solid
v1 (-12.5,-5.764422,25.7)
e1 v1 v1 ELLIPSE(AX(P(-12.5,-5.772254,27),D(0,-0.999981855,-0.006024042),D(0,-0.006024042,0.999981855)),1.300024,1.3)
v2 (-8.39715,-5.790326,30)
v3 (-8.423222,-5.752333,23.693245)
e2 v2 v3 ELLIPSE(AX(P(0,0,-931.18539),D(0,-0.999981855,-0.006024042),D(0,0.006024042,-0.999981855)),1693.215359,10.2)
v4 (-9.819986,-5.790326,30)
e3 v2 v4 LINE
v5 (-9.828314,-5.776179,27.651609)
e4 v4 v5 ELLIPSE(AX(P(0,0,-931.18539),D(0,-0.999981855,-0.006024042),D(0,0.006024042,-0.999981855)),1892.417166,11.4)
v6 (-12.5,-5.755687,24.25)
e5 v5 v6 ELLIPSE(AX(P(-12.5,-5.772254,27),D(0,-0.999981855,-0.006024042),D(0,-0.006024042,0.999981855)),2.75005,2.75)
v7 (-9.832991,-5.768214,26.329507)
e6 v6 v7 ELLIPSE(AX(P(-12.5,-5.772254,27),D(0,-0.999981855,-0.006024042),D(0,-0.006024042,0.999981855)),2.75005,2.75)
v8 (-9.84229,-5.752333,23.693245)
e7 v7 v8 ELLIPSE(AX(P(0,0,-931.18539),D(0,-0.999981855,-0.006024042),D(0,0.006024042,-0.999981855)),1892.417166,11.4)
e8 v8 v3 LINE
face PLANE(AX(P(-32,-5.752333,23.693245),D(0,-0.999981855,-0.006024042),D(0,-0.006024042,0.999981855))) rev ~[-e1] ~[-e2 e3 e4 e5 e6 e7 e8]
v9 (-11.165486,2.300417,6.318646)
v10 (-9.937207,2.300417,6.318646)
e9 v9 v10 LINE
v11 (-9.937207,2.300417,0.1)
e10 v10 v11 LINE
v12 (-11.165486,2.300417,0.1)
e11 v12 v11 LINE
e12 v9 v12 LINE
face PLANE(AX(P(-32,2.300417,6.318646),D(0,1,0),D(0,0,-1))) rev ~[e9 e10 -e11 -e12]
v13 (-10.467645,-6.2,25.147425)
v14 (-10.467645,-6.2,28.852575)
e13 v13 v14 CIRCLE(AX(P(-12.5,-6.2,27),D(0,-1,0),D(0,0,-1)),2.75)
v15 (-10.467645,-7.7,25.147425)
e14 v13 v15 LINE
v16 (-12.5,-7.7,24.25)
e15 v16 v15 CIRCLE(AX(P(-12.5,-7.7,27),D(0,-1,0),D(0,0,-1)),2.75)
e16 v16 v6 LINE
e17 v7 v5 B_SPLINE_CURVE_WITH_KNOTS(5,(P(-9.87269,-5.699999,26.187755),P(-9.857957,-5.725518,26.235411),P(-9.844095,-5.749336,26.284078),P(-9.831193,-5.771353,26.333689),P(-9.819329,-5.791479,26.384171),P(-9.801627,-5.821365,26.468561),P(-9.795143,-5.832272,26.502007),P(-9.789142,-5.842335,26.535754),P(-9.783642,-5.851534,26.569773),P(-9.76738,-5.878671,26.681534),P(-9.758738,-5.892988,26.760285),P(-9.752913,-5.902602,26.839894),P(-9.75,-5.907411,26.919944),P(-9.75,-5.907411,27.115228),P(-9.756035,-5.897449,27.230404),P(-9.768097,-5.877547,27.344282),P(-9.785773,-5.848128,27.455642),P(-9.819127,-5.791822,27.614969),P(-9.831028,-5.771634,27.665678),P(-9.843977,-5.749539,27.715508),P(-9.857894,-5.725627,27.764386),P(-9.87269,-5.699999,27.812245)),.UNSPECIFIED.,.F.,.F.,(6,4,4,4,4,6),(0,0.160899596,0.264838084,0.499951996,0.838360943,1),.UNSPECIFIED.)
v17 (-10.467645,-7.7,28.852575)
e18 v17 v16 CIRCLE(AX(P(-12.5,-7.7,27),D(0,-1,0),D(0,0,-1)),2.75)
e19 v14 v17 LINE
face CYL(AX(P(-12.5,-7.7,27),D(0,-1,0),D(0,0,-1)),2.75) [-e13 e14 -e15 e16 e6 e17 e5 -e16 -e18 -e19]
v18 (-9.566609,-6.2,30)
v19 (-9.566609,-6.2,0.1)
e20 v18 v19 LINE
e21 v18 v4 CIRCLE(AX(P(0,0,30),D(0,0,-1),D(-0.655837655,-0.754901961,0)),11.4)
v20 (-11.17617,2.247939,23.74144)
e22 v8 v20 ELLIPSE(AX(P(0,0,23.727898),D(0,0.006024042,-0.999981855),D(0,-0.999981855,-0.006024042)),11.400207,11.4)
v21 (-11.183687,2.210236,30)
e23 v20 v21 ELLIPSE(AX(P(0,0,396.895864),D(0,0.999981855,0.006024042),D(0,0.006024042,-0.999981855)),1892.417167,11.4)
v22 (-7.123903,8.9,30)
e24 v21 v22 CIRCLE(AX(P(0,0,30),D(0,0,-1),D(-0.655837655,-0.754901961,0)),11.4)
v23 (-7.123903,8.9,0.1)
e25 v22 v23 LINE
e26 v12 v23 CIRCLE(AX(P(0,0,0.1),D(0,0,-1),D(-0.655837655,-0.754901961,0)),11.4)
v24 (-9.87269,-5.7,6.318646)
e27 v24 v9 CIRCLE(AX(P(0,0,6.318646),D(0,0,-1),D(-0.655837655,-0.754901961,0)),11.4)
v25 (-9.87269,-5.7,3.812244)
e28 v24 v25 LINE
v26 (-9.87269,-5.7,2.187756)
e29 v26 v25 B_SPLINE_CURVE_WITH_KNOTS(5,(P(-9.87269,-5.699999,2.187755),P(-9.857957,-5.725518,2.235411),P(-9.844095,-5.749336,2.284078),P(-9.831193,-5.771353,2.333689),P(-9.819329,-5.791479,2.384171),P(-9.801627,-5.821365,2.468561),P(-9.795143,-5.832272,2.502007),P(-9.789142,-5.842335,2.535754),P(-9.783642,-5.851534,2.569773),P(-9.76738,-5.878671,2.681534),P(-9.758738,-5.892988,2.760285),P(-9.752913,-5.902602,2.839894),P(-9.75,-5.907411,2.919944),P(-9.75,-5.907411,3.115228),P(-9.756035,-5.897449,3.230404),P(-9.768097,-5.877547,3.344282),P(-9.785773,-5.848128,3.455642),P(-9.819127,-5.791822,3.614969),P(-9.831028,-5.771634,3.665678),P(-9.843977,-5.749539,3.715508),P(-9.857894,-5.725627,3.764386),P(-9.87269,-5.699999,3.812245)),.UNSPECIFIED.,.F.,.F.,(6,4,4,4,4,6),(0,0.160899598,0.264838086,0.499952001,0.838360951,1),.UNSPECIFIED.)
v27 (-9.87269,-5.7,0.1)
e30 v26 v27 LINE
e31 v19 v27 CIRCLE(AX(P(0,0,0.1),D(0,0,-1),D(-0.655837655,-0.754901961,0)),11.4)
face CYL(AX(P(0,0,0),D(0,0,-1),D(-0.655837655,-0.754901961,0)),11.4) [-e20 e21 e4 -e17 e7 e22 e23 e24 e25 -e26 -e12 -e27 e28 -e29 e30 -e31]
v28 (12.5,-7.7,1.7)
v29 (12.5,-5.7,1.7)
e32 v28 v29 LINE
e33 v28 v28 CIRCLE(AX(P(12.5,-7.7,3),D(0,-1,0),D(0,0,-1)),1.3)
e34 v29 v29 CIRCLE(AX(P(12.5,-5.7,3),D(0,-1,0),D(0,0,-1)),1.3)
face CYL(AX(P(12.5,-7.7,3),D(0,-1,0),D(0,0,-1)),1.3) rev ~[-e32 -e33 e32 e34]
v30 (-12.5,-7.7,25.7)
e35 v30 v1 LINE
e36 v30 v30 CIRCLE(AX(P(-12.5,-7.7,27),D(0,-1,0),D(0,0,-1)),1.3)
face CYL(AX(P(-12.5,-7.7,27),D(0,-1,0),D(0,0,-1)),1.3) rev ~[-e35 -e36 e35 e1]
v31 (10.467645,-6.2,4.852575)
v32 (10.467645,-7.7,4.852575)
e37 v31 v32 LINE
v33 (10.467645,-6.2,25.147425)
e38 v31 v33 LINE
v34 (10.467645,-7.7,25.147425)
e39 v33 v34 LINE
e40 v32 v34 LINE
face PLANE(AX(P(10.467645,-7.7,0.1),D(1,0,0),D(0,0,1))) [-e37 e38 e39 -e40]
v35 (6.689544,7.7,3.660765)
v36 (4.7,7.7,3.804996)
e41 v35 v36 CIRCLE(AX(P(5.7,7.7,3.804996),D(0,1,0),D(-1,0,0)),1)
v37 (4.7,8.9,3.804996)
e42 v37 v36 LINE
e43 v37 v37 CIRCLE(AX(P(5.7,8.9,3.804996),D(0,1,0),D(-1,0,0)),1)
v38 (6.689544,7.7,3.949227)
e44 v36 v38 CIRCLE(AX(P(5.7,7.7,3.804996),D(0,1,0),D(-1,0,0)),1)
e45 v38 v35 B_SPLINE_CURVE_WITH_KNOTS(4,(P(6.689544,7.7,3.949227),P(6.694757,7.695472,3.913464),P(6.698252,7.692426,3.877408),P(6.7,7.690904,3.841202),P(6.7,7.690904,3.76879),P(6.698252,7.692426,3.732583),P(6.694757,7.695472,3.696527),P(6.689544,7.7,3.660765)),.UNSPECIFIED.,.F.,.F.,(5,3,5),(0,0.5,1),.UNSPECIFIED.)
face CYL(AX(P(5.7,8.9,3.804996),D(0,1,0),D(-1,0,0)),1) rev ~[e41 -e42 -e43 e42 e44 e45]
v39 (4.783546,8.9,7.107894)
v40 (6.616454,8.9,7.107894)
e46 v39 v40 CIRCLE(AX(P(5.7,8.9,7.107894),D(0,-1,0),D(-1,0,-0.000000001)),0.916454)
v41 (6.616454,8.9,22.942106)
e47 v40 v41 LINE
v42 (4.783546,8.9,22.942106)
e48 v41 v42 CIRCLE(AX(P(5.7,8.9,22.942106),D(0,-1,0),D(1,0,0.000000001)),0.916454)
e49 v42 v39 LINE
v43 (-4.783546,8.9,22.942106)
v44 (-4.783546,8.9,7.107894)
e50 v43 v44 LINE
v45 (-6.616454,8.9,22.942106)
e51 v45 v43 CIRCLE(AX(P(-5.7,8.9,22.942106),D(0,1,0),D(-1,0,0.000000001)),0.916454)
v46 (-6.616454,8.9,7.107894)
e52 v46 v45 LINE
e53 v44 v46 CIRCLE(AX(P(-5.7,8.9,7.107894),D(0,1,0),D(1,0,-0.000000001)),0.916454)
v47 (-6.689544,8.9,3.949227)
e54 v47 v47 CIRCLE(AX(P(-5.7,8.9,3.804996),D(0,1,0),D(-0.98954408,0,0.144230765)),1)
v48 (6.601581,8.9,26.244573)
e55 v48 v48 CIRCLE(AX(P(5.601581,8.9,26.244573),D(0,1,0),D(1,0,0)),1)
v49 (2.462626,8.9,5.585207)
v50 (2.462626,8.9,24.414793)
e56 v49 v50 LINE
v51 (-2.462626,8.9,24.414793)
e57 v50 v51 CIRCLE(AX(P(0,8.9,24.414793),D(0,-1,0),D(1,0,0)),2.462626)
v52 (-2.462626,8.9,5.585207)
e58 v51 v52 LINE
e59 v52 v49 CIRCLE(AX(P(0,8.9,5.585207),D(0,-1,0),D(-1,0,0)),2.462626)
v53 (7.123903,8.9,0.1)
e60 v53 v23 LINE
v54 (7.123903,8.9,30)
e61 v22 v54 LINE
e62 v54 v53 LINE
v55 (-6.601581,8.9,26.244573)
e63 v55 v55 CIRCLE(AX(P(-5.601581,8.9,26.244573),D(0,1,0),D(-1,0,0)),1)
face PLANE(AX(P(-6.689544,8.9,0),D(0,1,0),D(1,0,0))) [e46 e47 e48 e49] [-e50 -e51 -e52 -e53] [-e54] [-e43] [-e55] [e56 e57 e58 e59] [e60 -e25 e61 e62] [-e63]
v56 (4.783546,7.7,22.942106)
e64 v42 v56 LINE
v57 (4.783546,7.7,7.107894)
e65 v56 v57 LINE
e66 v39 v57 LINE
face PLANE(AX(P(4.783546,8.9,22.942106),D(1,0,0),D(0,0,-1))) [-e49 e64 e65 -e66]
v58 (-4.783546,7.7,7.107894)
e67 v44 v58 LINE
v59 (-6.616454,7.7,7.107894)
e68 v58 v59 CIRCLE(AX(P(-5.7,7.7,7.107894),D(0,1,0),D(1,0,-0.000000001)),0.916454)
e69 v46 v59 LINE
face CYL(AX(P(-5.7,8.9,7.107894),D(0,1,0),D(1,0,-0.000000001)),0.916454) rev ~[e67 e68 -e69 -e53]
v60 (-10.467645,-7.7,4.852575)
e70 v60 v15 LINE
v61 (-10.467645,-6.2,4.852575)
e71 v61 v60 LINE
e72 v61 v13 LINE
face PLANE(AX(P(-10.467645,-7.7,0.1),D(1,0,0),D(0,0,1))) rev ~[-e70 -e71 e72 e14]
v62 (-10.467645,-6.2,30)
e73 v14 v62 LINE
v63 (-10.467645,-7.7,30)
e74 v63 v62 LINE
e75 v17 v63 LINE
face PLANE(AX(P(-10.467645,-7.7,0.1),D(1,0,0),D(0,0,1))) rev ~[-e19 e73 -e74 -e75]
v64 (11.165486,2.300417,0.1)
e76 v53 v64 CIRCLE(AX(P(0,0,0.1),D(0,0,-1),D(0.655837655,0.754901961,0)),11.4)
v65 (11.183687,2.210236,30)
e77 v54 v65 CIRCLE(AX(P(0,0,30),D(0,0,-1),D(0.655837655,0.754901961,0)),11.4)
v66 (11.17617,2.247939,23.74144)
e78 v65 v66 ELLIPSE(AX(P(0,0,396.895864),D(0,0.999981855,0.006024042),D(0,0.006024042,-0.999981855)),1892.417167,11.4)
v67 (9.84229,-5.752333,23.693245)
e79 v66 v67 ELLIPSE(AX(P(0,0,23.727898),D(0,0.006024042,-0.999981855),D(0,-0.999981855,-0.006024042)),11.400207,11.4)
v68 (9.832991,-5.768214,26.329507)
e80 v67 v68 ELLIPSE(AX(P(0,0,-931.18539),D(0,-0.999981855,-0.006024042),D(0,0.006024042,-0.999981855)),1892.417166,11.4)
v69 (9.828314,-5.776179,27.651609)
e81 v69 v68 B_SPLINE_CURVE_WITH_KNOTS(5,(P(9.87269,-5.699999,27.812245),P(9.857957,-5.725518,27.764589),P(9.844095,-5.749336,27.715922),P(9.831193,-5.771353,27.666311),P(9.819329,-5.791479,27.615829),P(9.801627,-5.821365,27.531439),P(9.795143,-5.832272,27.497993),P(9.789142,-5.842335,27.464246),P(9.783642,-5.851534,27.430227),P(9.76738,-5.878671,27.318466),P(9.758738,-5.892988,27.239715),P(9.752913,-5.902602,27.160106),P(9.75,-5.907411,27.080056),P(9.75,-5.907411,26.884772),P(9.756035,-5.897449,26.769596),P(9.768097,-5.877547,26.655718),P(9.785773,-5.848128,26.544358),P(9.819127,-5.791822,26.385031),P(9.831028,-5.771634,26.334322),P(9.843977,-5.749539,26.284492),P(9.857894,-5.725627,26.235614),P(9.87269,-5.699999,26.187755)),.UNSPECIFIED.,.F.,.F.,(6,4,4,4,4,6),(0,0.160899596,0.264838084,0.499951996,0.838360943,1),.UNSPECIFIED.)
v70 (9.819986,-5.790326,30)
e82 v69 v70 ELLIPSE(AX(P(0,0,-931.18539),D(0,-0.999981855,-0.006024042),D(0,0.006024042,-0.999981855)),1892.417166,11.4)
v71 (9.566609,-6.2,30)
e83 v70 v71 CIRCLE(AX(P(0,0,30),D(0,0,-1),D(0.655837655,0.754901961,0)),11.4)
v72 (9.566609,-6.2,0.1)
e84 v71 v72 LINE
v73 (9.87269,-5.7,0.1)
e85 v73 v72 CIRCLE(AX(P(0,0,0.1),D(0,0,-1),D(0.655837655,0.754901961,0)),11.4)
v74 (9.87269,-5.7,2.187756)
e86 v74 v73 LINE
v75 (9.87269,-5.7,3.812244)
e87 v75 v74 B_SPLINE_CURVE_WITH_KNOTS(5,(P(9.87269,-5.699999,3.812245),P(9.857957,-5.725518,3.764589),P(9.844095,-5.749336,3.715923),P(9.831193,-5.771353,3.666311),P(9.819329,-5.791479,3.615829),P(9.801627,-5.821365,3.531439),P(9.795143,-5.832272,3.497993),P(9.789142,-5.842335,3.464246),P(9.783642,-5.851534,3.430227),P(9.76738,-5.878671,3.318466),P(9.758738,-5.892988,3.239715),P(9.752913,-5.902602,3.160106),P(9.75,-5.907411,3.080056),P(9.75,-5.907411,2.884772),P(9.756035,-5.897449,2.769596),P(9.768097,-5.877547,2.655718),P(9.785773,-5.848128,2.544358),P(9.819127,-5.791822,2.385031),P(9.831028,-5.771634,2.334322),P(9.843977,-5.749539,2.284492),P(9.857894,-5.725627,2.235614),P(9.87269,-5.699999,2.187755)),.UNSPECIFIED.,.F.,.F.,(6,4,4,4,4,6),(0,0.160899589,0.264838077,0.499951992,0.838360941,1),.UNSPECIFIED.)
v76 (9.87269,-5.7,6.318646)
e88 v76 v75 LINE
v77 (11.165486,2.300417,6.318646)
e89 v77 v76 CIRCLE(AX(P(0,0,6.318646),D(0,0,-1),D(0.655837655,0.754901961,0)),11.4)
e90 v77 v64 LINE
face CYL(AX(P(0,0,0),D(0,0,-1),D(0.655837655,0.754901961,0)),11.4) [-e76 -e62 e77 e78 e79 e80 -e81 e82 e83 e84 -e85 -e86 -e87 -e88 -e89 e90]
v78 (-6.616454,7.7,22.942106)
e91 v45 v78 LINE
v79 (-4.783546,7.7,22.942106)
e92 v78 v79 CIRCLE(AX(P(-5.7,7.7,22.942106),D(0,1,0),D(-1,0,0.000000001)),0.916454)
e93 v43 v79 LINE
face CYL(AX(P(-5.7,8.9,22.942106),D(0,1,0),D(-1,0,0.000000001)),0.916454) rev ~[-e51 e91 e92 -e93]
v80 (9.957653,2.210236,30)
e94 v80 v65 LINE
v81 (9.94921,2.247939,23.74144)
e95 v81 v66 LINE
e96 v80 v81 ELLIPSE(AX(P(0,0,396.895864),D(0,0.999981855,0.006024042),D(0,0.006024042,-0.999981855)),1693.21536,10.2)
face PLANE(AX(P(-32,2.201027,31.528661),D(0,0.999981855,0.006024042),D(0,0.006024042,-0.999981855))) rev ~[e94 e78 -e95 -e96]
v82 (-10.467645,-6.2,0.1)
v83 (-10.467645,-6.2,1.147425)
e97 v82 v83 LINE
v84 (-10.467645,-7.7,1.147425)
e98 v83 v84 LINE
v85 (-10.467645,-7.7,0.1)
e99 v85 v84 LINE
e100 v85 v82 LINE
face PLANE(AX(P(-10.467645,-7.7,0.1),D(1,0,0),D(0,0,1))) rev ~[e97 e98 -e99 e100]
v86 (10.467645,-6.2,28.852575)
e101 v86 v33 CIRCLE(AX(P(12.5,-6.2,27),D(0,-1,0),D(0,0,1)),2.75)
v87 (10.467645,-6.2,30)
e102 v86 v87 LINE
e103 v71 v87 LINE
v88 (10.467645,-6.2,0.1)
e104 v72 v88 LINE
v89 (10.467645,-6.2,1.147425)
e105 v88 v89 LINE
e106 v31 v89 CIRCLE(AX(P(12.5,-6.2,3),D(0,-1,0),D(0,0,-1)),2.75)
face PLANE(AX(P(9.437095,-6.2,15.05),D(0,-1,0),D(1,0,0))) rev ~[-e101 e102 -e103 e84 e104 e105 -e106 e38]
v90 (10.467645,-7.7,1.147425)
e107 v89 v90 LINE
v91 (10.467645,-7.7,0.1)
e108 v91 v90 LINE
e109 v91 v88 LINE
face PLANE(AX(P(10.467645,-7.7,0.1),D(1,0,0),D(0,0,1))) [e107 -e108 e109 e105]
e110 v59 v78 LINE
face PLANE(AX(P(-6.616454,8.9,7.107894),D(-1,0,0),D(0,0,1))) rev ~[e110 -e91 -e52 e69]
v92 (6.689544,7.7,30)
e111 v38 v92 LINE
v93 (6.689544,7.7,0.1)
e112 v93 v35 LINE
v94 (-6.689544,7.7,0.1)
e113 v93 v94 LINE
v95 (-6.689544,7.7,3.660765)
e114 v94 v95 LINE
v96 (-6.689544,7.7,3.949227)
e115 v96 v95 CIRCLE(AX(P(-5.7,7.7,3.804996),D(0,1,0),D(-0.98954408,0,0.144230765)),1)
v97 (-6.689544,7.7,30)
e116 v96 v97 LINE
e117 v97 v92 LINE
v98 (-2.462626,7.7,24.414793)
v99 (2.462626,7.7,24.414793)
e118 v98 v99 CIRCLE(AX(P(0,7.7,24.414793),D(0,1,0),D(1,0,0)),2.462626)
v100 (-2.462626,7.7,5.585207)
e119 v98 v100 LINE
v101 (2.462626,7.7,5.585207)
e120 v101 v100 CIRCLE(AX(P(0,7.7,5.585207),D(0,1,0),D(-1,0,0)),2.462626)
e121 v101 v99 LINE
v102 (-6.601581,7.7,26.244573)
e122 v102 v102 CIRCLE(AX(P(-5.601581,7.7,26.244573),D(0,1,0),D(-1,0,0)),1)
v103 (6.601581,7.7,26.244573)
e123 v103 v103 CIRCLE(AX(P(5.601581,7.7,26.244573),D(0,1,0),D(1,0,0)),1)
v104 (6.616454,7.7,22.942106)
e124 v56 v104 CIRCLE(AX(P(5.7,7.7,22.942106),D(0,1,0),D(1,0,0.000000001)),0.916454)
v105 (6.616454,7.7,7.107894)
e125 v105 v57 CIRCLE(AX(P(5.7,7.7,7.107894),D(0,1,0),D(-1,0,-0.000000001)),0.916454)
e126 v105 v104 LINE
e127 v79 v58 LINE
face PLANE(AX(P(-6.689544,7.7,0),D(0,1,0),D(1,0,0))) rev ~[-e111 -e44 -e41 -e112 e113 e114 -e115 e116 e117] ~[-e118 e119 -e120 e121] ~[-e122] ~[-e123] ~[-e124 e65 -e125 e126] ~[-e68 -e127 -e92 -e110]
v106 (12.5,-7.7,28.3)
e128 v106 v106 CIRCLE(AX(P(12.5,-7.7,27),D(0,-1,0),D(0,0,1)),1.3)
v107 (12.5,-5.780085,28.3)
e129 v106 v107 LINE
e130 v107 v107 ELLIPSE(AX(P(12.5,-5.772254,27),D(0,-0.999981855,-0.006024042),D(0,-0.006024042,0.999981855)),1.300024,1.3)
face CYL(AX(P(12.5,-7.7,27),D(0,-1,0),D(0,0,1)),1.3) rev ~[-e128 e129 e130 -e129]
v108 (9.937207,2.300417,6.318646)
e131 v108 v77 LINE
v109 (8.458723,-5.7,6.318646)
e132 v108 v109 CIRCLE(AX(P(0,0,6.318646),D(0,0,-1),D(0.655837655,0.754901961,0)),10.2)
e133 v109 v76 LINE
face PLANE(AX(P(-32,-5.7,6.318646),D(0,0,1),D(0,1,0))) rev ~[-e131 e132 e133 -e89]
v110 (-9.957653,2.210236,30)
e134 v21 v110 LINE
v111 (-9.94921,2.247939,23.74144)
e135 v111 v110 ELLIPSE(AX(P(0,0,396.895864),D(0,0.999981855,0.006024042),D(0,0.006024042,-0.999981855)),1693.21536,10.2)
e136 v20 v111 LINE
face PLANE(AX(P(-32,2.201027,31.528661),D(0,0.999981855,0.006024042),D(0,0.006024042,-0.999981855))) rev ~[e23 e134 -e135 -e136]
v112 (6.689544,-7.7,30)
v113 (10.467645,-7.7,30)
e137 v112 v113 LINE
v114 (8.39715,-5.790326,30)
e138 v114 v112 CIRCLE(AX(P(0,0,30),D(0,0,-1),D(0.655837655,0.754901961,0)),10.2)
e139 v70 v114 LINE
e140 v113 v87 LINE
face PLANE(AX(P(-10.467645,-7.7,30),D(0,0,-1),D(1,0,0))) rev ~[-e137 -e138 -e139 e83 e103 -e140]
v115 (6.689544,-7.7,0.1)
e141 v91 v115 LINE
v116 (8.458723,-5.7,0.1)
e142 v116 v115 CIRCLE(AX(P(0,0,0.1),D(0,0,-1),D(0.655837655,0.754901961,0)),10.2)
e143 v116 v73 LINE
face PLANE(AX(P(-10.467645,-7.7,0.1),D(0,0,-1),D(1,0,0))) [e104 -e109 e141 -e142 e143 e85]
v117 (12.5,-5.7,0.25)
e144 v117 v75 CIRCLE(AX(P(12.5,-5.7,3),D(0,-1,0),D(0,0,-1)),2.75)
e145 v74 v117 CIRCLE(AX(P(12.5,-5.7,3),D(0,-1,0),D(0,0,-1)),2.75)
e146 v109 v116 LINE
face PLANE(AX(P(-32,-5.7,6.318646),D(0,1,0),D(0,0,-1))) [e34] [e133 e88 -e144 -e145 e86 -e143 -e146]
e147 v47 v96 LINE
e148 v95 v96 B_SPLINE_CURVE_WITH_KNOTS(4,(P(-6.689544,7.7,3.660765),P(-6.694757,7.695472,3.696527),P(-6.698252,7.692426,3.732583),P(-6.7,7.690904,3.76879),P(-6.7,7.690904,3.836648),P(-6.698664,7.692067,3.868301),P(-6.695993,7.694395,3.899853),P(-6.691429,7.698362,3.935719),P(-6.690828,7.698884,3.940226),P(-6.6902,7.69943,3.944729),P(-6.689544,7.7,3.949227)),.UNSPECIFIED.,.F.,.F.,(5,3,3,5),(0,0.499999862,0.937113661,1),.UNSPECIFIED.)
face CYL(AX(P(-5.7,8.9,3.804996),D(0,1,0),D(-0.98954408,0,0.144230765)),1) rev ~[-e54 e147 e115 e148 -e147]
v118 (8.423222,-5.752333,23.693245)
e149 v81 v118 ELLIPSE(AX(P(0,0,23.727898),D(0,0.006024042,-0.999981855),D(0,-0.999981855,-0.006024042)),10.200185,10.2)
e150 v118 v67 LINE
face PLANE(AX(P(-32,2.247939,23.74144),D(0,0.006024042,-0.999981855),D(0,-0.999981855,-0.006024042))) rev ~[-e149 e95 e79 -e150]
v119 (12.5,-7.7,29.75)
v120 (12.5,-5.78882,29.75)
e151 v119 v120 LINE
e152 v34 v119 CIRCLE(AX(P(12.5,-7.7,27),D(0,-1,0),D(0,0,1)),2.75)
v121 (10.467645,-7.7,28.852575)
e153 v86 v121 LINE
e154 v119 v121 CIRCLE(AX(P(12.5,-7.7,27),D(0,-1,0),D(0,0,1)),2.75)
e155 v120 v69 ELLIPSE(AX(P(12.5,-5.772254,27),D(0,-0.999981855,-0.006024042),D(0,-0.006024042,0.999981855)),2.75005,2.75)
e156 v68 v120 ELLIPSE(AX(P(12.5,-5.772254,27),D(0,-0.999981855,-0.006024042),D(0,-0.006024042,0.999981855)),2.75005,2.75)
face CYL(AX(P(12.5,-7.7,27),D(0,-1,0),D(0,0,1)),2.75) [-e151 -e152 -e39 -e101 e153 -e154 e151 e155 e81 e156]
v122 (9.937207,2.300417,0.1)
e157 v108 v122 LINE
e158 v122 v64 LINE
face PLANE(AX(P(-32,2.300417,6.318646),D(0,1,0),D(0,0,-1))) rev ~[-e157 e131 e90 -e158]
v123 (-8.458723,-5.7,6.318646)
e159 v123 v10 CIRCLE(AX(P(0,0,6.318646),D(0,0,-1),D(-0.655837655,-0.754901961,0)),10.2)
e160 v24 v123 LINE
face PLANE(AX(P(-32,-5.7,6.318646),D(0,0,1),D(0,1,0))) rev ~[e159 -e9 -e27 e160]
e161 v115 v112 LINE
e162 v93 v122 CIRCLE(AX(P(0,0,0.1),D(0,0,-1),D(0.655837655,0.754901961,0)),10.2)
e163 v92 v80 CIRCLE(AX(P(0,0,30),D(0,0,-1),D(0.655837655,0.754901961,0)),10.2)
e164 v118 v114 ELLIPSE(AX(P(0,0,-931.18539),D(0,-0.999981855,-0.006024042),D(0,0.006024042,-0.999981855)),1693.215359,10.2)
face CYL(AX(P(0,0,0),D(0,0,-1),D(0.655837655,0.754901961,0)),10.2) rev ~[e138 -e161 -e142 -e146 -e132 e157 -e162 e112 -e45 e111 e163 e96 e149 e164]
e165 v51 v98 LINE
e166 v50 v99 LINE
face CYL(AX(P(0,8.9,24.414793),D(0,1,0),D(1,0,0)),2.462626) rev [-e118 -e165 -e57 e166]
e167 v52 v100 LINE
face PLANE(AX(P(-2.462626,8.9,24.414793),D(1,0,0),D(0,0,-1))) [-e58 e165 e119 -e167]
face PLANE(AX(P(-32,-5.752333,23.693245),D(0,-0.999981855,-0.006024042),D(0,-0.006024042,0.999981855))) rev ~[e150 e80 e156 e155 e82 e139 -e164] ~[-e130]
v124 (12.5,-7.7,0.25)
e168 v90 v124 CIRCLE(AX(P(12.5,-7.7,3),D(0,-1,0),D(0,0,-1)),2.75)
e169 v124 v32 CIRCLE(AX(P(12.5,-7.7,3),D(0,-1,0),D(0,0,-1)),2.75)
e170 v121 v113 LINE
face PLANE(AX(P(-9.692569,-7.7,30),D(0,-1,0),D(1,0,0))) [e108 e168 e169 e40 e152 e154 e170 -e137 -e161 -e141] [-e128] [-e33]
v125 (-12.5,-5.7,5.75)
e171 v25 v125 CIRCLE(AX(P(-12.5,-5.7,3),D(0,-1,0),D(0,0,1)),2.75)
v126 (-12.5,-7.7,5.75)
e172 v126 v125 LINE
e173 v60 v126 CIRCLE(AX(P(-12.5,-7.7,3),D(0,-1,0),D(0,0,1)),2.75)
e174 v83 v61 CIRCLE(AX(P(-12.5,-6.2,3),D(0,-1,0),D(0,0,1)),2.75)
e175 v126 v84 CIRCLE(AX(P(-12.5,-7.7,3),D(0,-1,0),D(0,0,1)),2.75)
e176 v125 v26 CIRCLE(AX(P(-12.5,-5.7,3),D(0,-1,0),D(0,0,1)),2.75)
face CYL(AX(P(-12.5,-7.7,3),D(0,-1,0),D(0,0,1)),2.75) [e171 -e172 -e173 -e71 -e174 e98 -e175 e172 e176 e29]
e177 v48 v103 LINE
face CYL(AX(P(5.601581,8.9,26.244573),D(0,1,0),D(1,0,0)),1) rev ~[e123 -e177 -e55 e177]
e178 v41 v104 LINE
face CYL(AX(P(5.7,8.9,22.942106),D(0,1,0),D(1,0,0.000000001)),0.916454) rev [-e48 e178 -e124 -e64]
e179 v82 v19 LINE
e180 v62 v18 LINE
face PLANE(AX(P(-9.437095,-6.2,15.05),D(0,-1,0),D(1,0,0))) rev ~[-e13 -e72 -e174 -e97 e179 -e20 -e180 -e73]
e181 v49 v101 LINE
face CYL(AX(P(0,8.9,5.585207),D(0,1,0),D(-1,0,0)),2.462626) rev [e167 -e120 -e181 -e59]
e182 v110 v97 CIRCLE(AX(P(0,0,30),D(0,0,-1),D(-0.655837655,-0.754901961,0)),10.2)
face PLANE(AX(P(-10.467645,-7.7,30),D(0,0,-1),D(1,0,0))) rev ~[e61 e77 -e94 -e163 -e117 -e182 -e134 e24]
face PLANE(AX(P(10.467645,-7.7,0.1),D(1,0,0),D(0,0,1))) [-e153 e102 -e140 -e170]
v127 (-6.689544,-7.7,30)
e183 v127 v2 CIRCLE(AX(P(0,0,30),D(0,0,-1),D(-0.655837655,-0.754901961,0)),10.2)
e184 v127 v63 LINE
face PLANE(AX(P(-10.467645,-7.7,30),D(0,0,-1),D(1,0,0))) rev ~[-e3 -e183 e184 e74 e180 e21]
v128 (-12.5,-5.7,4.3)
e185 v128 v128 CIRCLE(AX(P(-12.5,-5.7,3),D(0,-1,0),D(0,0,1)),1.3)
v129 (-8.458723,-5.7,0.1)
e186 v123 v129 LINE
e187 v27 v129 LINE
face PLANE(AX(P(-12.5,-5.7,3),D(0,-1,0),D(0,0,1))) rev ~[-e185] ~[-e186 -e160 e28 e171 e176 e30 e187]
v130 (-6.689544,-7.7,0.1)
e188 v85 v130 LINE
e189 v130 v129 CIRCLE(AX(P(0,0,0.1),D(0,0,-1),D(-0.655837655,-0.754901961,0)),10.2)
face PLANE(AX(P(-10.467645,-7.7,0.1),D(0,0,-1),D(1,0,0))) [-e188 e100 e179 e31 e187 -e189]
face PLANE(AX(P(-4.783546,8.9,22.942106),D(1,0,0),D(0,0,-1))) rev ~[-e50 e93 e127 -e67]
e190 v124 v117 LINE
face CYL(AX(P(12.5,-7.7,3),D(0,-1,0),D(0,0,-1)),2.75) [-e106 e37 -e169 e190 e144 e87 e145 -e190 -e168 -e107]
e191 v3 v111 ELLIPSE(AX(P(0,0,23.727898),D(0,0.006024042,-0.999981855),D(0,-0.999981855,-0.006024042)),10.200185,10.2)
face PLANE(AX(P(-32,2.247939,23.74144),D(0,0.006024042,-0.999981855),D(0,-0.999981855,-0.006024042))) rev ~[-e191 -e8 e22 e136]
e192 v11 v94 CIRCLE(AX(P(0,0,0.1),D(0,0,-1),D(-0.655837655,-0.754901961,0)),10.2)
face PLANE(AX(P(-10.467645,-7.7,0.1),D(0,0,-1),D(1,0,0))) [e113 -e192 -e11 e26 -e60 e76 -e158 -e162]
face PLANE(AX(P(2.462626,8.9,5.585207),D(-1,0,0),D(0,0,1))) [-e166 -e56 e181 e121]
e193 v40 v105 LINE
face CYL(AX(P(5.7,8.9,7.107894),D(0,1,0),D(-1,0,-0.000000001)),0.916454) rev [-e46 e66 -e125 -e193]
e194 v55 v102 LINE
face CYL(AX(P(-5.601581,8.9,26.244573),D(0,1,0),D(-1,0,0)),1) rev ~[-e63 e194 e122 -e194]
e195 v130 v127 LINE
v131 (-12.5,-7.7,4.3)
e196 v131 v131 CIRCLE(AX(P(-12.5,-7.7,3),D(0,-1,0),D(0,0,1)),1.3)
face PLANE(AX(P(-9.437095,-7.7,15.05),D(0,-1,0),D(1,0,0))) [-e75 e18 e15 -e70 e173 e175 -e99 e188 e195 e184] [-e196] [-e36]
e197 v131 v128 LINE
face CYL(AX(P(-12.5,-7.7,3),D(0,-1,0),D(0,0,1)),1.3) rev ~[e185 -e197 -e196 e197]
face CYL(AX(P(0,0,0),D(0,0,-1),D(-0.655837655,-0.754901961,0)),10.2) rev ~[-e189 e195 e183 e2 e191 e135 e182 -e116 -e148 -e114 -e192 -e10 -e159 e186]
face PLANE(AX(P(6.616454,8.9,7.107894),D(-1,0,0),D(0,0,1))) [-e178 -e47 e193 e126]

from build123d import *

# Parameters (mm, degrees)
SALIENTE_EXTRUIR1_DEPTH    = 30
VACIADO1_T                 = 1.2
CROQUIS2_W                 = 41.64599518
CROQUIS2_H                 = 31.401201606
CORTAR_EXTRUIR1_DEPTH      = 1.3
CROQUIS3_W                 = 19.002401527
CROQUIS3_H                 = 2.972205444
CORTAR_EXTRUIR2_DEPTH      = 48.3
CROQUIS4_R                 = 2.75
CROQUIS4_R_2               = 1.3
SALIENTE_EXTRUIR2_DEPTH    = 2
SALIENTE_EXTRUIR2_2_DEPTH  = 2
SALIENTE_EXTRUIR2_3_DEPTH  = 2
SALIENTE_EXTRUIR2_4_DEPTH  = 2
CROQUIS5_W                 = 2.061100057
CROQUIS5_H                 = 29.9
SALIENTE_EXTRUIR3_DEPTH    = 1.5
CROQUIS6_R                 = 1
CORTAR_EXTRUIR3_DEPTH      = 7
CORTAR_EXTRUIR4_DEPTH      = 30
CORTAR_EXTRUIR4_DEPTH_BACK = 32
CROQUIS9_W                 = 7.787362377
CROQUIS9_H                 = 8.000416911


with BuildPart() as part:
    # Croquis1 → Saliente-Extruir1 (new body)
    with BuildSketch(Plane.XY):
        with BuildLine():
            Line((-6.68954408, 7.7), (6.68954408, 7.7))
            ThreePointArc((6.68954408, 7.7), (10.2, 0), (6.68954408, -7.7))
            Line((6.68954408, -7.7), (-6.68954408, -7.7))
            ThreePointArc((-6.68954408, -7.7), (-10.2, 0), (-6.68954408, 7.7))
        make_face()
    extrude(amount=SALIENTE_EXTRUIR1_DEPTH)

    # Vaciado1
    vaciado1_openings = [part.faces().sort_by_distance(p)[0] for p in [
        (0, 0, 30),
    ]]
    offset(amount=VACIADO1_T, openings=vaciado1_openings, kind=Kind.INTERSECTION)

    # Croquis2 → Cortar-Extruir1 (cut)
    with BuildSketch(Plane(origin=(0, 0, -1.2), x_dir=(-1, 0, 0), z_dir=(0, 0, -1))):
        Rectangle(CROQUIS2_W, CROQUIS2_H)
    extrude(amount=-CORTAR_EXTRUIR1_DEPTH, mode=Mode.SUBTRACT)

    # Croquis3 → Cortar-Extruir2 (cut)
    with BuildSketch(Plane.XY.offset(30)):
        with Locations((-0.191367802, -9.186102722)):
            Rectangle(CROQUIS3_W, CROQUIS3_H)
    extrude(amount=-CORTAR_EXTRUIR2_DEPTH, mode=Mode.SUBTRACT)



with BuildPart() as body_2:
    # Croquis4 → Saliente-Extruir2 (new body)
    with BuildSketch(Plane.XZ.offset(7.7)):
        with Locations(Location((12.5, 3, 0), (0, 0, 270))):
            Circle(CROQUIS4_R)
        with Locations(Location((12.5, 3, 0), (0, 0, 270))):
            Circle(CROQUIS4_R_2, mode=Mode.SUBTRACT)
    extrude(amount=-SALIENTE_EXTRUIR2_DEPTH)


with BuildPart() as body_3:
    # Croquis4 → Saliente-Extruir2 2 (new body)
    with BuildSketch(Plane.XZ.offset(7.7)):
        with Locations(Location((12.5, 27, 0), (0, 0, 90))):
            Circle(CROQUIS4_R)
        with Locations(Location((12.5, 27, 0), (0, 0, 90))):
            Circle(CROQUIS4_R_2, mode=Mode.SUBTRACT)
    extrude(amount=-SALIENTE_EXTRUIR2_2_DEPTH)


with BuildPart() as body_4:
    # Croquis4 → Saliente-Extruir2 3 (new body)
    with BuildSketch(Plane.XZ.offset(7.7)):
        with Locations(Location((-12.5, 27, 0), (0, 0, 270))):
            Circle(CROQUIS4_R)
        with Locations(Location((-12.5, 27, 0), (0, 0, 270))):
            Circle(CROQUIS4_R_2, mode=Mode.SUBTRACT)
    extrude(amount=-SALIENTE_EXTRUIR2_3_DEPTH)


with BuildPart() as body_5:
    # Croquis4 → Saliente-Extruir2 4 (new body)
    with BuildSketch(Plane.XZ.offset(7.7)):
        with Locations(Location((-12.5, 3, 0), (0, 0, 90))):
            Circle(CROQUIS4_R)
        with Locations(Location((-12.5, 3, 0), (0, 0, 90))):
            Circle(CROQUIS4_R_2, mode=Mode.SUBTRACT)
    extrude(amount=-SALIENTE_EXTRUIR2_4_DEPTH)


with BuildPart() as part_1:
    add(part.part)

    add(body_2.part)  # Saliente-Extruir3 merges body 2

    add(body_3.part)  # Saliente-Extruir3 merges body 3

    add(body_4.part)  # Saliente-Extruir3 merges body 4

    add(body_5.part)  # Saliente-Extruir3 merges body 5
    # Croquis5 → Saliente-Extruir3 (add)
    with BuildSketch(Plane.XZ.offset(7.7)):
        with Locations((-9.437095098, 15.05)):
            Rectangle(CROQUIS5_W, CROQUIS5_H)
        with Locations((9.437095098, 15.05)):
            Rectangle(CROQUIS5_W, CROQUIS5_H)
    extrude(amount=-SALIENTE_EXTRUIR3_DEPTH)

    # Croquis6 → Cortar-Extruir3 (cut)
    with BuildSketch(Plane(origin=(0, 8.9, 0), x_dir=(1, 0, 0), z_dir=(0, 1, 0))):
        with Locations(Location((5.7, -3.804995741, 0), (0, 0, 180))):
            Circle(CROQUIS6_R)
        with Locations((5.601580803, -26.244572596)):
            Circle(CROQUIS6_R)
        with Locations(Location((-5.7, -3.804995741, 0), (0, 0, 188.292737021))):
            Circle(CROQUIS6_R)
        with Locations(Location((-5.601580803, -26.244572596, 0), (0, 0, 180))):
            Circle(CROQUIS6_R)
        with BuildLine():
            Line((-2.462626263, -24.414792503), (-2.462626263, -5.585207497))
            ThreePointArc((-2.462626263, -5.585207497), (0, -3.122581234), (2.462626263, -5.585207497))
            Line((2.462626263, -5.585207497), (2.462626263, -24.414792503))
            ThreePointArc((2.462626263, -24.414792503), (0, -26.877418766), (-2.462626263, -24.414792503))
        make_face()
        with BuildLine():
            Line((6.616453694, -7.107894038), (6.616453694, -22.942105962))
            ThreePointArc((6.616453694, -22.942105962), (5.7, -23.858559655), (4.783546306, -22.942105962))
            Line((4.783546306, -22.942105962), (4.783546306, -7.107894038))
            ThreePointArc((4.783546306, -7.107894038), (5.7, -6.191440345), (6.616453694, -7.107894038))
        make_face()
        with BuildLine():
            Line((-6.616453694, -7.107894038), (-6.616453694, -22.942105962))
            ThreePointArc((-6.616453694, -22.942105962), (-5.7, -23.858559655), (-4.783546306, -22.942105962))
            Line((-4.783546306, -22.942105962), (-4.783546306, -7.107894038))
            ThreePointArc((-4.783546306, -7.107894038), (-5.7, -6.191440345), (-6.616453694, -7.107894038))
        make_face()
    extrude(amount=-CORTAR_EXTRUIR3_DEPTH, mode=Mode.SUBTRACT)

    # Croquis9 → Cortar-Extruir4 (cut, two sides: drawn at the far end of the back side and taken through both)
    with BuildSketch(Plane(origin=(0, 0, 0), x_dir=(0, 0, -1), z_dir=(1, 0, 0)).offset(-CORTAR_EXTRUIR4_DEPTH_BACK)):
        with Locations((-2.424964561, -1.699791545)):
            Rectangle(CROQUIS9_W, CROQUIS9_H)
        Polygon((-31.528660737, 2.20102722), (-23.741439659, 2.247938616), (-23.693244814, -5.75233313), (-31.480465891, -5.799244526), align=None)
    extrude(amount=CORTAR_EXTRUIR4_DEPTH + CORTAR_EXTRUIR4_DEPTH_BACK, mode=Mode.SUBTRACT)


solid = part_1.part
